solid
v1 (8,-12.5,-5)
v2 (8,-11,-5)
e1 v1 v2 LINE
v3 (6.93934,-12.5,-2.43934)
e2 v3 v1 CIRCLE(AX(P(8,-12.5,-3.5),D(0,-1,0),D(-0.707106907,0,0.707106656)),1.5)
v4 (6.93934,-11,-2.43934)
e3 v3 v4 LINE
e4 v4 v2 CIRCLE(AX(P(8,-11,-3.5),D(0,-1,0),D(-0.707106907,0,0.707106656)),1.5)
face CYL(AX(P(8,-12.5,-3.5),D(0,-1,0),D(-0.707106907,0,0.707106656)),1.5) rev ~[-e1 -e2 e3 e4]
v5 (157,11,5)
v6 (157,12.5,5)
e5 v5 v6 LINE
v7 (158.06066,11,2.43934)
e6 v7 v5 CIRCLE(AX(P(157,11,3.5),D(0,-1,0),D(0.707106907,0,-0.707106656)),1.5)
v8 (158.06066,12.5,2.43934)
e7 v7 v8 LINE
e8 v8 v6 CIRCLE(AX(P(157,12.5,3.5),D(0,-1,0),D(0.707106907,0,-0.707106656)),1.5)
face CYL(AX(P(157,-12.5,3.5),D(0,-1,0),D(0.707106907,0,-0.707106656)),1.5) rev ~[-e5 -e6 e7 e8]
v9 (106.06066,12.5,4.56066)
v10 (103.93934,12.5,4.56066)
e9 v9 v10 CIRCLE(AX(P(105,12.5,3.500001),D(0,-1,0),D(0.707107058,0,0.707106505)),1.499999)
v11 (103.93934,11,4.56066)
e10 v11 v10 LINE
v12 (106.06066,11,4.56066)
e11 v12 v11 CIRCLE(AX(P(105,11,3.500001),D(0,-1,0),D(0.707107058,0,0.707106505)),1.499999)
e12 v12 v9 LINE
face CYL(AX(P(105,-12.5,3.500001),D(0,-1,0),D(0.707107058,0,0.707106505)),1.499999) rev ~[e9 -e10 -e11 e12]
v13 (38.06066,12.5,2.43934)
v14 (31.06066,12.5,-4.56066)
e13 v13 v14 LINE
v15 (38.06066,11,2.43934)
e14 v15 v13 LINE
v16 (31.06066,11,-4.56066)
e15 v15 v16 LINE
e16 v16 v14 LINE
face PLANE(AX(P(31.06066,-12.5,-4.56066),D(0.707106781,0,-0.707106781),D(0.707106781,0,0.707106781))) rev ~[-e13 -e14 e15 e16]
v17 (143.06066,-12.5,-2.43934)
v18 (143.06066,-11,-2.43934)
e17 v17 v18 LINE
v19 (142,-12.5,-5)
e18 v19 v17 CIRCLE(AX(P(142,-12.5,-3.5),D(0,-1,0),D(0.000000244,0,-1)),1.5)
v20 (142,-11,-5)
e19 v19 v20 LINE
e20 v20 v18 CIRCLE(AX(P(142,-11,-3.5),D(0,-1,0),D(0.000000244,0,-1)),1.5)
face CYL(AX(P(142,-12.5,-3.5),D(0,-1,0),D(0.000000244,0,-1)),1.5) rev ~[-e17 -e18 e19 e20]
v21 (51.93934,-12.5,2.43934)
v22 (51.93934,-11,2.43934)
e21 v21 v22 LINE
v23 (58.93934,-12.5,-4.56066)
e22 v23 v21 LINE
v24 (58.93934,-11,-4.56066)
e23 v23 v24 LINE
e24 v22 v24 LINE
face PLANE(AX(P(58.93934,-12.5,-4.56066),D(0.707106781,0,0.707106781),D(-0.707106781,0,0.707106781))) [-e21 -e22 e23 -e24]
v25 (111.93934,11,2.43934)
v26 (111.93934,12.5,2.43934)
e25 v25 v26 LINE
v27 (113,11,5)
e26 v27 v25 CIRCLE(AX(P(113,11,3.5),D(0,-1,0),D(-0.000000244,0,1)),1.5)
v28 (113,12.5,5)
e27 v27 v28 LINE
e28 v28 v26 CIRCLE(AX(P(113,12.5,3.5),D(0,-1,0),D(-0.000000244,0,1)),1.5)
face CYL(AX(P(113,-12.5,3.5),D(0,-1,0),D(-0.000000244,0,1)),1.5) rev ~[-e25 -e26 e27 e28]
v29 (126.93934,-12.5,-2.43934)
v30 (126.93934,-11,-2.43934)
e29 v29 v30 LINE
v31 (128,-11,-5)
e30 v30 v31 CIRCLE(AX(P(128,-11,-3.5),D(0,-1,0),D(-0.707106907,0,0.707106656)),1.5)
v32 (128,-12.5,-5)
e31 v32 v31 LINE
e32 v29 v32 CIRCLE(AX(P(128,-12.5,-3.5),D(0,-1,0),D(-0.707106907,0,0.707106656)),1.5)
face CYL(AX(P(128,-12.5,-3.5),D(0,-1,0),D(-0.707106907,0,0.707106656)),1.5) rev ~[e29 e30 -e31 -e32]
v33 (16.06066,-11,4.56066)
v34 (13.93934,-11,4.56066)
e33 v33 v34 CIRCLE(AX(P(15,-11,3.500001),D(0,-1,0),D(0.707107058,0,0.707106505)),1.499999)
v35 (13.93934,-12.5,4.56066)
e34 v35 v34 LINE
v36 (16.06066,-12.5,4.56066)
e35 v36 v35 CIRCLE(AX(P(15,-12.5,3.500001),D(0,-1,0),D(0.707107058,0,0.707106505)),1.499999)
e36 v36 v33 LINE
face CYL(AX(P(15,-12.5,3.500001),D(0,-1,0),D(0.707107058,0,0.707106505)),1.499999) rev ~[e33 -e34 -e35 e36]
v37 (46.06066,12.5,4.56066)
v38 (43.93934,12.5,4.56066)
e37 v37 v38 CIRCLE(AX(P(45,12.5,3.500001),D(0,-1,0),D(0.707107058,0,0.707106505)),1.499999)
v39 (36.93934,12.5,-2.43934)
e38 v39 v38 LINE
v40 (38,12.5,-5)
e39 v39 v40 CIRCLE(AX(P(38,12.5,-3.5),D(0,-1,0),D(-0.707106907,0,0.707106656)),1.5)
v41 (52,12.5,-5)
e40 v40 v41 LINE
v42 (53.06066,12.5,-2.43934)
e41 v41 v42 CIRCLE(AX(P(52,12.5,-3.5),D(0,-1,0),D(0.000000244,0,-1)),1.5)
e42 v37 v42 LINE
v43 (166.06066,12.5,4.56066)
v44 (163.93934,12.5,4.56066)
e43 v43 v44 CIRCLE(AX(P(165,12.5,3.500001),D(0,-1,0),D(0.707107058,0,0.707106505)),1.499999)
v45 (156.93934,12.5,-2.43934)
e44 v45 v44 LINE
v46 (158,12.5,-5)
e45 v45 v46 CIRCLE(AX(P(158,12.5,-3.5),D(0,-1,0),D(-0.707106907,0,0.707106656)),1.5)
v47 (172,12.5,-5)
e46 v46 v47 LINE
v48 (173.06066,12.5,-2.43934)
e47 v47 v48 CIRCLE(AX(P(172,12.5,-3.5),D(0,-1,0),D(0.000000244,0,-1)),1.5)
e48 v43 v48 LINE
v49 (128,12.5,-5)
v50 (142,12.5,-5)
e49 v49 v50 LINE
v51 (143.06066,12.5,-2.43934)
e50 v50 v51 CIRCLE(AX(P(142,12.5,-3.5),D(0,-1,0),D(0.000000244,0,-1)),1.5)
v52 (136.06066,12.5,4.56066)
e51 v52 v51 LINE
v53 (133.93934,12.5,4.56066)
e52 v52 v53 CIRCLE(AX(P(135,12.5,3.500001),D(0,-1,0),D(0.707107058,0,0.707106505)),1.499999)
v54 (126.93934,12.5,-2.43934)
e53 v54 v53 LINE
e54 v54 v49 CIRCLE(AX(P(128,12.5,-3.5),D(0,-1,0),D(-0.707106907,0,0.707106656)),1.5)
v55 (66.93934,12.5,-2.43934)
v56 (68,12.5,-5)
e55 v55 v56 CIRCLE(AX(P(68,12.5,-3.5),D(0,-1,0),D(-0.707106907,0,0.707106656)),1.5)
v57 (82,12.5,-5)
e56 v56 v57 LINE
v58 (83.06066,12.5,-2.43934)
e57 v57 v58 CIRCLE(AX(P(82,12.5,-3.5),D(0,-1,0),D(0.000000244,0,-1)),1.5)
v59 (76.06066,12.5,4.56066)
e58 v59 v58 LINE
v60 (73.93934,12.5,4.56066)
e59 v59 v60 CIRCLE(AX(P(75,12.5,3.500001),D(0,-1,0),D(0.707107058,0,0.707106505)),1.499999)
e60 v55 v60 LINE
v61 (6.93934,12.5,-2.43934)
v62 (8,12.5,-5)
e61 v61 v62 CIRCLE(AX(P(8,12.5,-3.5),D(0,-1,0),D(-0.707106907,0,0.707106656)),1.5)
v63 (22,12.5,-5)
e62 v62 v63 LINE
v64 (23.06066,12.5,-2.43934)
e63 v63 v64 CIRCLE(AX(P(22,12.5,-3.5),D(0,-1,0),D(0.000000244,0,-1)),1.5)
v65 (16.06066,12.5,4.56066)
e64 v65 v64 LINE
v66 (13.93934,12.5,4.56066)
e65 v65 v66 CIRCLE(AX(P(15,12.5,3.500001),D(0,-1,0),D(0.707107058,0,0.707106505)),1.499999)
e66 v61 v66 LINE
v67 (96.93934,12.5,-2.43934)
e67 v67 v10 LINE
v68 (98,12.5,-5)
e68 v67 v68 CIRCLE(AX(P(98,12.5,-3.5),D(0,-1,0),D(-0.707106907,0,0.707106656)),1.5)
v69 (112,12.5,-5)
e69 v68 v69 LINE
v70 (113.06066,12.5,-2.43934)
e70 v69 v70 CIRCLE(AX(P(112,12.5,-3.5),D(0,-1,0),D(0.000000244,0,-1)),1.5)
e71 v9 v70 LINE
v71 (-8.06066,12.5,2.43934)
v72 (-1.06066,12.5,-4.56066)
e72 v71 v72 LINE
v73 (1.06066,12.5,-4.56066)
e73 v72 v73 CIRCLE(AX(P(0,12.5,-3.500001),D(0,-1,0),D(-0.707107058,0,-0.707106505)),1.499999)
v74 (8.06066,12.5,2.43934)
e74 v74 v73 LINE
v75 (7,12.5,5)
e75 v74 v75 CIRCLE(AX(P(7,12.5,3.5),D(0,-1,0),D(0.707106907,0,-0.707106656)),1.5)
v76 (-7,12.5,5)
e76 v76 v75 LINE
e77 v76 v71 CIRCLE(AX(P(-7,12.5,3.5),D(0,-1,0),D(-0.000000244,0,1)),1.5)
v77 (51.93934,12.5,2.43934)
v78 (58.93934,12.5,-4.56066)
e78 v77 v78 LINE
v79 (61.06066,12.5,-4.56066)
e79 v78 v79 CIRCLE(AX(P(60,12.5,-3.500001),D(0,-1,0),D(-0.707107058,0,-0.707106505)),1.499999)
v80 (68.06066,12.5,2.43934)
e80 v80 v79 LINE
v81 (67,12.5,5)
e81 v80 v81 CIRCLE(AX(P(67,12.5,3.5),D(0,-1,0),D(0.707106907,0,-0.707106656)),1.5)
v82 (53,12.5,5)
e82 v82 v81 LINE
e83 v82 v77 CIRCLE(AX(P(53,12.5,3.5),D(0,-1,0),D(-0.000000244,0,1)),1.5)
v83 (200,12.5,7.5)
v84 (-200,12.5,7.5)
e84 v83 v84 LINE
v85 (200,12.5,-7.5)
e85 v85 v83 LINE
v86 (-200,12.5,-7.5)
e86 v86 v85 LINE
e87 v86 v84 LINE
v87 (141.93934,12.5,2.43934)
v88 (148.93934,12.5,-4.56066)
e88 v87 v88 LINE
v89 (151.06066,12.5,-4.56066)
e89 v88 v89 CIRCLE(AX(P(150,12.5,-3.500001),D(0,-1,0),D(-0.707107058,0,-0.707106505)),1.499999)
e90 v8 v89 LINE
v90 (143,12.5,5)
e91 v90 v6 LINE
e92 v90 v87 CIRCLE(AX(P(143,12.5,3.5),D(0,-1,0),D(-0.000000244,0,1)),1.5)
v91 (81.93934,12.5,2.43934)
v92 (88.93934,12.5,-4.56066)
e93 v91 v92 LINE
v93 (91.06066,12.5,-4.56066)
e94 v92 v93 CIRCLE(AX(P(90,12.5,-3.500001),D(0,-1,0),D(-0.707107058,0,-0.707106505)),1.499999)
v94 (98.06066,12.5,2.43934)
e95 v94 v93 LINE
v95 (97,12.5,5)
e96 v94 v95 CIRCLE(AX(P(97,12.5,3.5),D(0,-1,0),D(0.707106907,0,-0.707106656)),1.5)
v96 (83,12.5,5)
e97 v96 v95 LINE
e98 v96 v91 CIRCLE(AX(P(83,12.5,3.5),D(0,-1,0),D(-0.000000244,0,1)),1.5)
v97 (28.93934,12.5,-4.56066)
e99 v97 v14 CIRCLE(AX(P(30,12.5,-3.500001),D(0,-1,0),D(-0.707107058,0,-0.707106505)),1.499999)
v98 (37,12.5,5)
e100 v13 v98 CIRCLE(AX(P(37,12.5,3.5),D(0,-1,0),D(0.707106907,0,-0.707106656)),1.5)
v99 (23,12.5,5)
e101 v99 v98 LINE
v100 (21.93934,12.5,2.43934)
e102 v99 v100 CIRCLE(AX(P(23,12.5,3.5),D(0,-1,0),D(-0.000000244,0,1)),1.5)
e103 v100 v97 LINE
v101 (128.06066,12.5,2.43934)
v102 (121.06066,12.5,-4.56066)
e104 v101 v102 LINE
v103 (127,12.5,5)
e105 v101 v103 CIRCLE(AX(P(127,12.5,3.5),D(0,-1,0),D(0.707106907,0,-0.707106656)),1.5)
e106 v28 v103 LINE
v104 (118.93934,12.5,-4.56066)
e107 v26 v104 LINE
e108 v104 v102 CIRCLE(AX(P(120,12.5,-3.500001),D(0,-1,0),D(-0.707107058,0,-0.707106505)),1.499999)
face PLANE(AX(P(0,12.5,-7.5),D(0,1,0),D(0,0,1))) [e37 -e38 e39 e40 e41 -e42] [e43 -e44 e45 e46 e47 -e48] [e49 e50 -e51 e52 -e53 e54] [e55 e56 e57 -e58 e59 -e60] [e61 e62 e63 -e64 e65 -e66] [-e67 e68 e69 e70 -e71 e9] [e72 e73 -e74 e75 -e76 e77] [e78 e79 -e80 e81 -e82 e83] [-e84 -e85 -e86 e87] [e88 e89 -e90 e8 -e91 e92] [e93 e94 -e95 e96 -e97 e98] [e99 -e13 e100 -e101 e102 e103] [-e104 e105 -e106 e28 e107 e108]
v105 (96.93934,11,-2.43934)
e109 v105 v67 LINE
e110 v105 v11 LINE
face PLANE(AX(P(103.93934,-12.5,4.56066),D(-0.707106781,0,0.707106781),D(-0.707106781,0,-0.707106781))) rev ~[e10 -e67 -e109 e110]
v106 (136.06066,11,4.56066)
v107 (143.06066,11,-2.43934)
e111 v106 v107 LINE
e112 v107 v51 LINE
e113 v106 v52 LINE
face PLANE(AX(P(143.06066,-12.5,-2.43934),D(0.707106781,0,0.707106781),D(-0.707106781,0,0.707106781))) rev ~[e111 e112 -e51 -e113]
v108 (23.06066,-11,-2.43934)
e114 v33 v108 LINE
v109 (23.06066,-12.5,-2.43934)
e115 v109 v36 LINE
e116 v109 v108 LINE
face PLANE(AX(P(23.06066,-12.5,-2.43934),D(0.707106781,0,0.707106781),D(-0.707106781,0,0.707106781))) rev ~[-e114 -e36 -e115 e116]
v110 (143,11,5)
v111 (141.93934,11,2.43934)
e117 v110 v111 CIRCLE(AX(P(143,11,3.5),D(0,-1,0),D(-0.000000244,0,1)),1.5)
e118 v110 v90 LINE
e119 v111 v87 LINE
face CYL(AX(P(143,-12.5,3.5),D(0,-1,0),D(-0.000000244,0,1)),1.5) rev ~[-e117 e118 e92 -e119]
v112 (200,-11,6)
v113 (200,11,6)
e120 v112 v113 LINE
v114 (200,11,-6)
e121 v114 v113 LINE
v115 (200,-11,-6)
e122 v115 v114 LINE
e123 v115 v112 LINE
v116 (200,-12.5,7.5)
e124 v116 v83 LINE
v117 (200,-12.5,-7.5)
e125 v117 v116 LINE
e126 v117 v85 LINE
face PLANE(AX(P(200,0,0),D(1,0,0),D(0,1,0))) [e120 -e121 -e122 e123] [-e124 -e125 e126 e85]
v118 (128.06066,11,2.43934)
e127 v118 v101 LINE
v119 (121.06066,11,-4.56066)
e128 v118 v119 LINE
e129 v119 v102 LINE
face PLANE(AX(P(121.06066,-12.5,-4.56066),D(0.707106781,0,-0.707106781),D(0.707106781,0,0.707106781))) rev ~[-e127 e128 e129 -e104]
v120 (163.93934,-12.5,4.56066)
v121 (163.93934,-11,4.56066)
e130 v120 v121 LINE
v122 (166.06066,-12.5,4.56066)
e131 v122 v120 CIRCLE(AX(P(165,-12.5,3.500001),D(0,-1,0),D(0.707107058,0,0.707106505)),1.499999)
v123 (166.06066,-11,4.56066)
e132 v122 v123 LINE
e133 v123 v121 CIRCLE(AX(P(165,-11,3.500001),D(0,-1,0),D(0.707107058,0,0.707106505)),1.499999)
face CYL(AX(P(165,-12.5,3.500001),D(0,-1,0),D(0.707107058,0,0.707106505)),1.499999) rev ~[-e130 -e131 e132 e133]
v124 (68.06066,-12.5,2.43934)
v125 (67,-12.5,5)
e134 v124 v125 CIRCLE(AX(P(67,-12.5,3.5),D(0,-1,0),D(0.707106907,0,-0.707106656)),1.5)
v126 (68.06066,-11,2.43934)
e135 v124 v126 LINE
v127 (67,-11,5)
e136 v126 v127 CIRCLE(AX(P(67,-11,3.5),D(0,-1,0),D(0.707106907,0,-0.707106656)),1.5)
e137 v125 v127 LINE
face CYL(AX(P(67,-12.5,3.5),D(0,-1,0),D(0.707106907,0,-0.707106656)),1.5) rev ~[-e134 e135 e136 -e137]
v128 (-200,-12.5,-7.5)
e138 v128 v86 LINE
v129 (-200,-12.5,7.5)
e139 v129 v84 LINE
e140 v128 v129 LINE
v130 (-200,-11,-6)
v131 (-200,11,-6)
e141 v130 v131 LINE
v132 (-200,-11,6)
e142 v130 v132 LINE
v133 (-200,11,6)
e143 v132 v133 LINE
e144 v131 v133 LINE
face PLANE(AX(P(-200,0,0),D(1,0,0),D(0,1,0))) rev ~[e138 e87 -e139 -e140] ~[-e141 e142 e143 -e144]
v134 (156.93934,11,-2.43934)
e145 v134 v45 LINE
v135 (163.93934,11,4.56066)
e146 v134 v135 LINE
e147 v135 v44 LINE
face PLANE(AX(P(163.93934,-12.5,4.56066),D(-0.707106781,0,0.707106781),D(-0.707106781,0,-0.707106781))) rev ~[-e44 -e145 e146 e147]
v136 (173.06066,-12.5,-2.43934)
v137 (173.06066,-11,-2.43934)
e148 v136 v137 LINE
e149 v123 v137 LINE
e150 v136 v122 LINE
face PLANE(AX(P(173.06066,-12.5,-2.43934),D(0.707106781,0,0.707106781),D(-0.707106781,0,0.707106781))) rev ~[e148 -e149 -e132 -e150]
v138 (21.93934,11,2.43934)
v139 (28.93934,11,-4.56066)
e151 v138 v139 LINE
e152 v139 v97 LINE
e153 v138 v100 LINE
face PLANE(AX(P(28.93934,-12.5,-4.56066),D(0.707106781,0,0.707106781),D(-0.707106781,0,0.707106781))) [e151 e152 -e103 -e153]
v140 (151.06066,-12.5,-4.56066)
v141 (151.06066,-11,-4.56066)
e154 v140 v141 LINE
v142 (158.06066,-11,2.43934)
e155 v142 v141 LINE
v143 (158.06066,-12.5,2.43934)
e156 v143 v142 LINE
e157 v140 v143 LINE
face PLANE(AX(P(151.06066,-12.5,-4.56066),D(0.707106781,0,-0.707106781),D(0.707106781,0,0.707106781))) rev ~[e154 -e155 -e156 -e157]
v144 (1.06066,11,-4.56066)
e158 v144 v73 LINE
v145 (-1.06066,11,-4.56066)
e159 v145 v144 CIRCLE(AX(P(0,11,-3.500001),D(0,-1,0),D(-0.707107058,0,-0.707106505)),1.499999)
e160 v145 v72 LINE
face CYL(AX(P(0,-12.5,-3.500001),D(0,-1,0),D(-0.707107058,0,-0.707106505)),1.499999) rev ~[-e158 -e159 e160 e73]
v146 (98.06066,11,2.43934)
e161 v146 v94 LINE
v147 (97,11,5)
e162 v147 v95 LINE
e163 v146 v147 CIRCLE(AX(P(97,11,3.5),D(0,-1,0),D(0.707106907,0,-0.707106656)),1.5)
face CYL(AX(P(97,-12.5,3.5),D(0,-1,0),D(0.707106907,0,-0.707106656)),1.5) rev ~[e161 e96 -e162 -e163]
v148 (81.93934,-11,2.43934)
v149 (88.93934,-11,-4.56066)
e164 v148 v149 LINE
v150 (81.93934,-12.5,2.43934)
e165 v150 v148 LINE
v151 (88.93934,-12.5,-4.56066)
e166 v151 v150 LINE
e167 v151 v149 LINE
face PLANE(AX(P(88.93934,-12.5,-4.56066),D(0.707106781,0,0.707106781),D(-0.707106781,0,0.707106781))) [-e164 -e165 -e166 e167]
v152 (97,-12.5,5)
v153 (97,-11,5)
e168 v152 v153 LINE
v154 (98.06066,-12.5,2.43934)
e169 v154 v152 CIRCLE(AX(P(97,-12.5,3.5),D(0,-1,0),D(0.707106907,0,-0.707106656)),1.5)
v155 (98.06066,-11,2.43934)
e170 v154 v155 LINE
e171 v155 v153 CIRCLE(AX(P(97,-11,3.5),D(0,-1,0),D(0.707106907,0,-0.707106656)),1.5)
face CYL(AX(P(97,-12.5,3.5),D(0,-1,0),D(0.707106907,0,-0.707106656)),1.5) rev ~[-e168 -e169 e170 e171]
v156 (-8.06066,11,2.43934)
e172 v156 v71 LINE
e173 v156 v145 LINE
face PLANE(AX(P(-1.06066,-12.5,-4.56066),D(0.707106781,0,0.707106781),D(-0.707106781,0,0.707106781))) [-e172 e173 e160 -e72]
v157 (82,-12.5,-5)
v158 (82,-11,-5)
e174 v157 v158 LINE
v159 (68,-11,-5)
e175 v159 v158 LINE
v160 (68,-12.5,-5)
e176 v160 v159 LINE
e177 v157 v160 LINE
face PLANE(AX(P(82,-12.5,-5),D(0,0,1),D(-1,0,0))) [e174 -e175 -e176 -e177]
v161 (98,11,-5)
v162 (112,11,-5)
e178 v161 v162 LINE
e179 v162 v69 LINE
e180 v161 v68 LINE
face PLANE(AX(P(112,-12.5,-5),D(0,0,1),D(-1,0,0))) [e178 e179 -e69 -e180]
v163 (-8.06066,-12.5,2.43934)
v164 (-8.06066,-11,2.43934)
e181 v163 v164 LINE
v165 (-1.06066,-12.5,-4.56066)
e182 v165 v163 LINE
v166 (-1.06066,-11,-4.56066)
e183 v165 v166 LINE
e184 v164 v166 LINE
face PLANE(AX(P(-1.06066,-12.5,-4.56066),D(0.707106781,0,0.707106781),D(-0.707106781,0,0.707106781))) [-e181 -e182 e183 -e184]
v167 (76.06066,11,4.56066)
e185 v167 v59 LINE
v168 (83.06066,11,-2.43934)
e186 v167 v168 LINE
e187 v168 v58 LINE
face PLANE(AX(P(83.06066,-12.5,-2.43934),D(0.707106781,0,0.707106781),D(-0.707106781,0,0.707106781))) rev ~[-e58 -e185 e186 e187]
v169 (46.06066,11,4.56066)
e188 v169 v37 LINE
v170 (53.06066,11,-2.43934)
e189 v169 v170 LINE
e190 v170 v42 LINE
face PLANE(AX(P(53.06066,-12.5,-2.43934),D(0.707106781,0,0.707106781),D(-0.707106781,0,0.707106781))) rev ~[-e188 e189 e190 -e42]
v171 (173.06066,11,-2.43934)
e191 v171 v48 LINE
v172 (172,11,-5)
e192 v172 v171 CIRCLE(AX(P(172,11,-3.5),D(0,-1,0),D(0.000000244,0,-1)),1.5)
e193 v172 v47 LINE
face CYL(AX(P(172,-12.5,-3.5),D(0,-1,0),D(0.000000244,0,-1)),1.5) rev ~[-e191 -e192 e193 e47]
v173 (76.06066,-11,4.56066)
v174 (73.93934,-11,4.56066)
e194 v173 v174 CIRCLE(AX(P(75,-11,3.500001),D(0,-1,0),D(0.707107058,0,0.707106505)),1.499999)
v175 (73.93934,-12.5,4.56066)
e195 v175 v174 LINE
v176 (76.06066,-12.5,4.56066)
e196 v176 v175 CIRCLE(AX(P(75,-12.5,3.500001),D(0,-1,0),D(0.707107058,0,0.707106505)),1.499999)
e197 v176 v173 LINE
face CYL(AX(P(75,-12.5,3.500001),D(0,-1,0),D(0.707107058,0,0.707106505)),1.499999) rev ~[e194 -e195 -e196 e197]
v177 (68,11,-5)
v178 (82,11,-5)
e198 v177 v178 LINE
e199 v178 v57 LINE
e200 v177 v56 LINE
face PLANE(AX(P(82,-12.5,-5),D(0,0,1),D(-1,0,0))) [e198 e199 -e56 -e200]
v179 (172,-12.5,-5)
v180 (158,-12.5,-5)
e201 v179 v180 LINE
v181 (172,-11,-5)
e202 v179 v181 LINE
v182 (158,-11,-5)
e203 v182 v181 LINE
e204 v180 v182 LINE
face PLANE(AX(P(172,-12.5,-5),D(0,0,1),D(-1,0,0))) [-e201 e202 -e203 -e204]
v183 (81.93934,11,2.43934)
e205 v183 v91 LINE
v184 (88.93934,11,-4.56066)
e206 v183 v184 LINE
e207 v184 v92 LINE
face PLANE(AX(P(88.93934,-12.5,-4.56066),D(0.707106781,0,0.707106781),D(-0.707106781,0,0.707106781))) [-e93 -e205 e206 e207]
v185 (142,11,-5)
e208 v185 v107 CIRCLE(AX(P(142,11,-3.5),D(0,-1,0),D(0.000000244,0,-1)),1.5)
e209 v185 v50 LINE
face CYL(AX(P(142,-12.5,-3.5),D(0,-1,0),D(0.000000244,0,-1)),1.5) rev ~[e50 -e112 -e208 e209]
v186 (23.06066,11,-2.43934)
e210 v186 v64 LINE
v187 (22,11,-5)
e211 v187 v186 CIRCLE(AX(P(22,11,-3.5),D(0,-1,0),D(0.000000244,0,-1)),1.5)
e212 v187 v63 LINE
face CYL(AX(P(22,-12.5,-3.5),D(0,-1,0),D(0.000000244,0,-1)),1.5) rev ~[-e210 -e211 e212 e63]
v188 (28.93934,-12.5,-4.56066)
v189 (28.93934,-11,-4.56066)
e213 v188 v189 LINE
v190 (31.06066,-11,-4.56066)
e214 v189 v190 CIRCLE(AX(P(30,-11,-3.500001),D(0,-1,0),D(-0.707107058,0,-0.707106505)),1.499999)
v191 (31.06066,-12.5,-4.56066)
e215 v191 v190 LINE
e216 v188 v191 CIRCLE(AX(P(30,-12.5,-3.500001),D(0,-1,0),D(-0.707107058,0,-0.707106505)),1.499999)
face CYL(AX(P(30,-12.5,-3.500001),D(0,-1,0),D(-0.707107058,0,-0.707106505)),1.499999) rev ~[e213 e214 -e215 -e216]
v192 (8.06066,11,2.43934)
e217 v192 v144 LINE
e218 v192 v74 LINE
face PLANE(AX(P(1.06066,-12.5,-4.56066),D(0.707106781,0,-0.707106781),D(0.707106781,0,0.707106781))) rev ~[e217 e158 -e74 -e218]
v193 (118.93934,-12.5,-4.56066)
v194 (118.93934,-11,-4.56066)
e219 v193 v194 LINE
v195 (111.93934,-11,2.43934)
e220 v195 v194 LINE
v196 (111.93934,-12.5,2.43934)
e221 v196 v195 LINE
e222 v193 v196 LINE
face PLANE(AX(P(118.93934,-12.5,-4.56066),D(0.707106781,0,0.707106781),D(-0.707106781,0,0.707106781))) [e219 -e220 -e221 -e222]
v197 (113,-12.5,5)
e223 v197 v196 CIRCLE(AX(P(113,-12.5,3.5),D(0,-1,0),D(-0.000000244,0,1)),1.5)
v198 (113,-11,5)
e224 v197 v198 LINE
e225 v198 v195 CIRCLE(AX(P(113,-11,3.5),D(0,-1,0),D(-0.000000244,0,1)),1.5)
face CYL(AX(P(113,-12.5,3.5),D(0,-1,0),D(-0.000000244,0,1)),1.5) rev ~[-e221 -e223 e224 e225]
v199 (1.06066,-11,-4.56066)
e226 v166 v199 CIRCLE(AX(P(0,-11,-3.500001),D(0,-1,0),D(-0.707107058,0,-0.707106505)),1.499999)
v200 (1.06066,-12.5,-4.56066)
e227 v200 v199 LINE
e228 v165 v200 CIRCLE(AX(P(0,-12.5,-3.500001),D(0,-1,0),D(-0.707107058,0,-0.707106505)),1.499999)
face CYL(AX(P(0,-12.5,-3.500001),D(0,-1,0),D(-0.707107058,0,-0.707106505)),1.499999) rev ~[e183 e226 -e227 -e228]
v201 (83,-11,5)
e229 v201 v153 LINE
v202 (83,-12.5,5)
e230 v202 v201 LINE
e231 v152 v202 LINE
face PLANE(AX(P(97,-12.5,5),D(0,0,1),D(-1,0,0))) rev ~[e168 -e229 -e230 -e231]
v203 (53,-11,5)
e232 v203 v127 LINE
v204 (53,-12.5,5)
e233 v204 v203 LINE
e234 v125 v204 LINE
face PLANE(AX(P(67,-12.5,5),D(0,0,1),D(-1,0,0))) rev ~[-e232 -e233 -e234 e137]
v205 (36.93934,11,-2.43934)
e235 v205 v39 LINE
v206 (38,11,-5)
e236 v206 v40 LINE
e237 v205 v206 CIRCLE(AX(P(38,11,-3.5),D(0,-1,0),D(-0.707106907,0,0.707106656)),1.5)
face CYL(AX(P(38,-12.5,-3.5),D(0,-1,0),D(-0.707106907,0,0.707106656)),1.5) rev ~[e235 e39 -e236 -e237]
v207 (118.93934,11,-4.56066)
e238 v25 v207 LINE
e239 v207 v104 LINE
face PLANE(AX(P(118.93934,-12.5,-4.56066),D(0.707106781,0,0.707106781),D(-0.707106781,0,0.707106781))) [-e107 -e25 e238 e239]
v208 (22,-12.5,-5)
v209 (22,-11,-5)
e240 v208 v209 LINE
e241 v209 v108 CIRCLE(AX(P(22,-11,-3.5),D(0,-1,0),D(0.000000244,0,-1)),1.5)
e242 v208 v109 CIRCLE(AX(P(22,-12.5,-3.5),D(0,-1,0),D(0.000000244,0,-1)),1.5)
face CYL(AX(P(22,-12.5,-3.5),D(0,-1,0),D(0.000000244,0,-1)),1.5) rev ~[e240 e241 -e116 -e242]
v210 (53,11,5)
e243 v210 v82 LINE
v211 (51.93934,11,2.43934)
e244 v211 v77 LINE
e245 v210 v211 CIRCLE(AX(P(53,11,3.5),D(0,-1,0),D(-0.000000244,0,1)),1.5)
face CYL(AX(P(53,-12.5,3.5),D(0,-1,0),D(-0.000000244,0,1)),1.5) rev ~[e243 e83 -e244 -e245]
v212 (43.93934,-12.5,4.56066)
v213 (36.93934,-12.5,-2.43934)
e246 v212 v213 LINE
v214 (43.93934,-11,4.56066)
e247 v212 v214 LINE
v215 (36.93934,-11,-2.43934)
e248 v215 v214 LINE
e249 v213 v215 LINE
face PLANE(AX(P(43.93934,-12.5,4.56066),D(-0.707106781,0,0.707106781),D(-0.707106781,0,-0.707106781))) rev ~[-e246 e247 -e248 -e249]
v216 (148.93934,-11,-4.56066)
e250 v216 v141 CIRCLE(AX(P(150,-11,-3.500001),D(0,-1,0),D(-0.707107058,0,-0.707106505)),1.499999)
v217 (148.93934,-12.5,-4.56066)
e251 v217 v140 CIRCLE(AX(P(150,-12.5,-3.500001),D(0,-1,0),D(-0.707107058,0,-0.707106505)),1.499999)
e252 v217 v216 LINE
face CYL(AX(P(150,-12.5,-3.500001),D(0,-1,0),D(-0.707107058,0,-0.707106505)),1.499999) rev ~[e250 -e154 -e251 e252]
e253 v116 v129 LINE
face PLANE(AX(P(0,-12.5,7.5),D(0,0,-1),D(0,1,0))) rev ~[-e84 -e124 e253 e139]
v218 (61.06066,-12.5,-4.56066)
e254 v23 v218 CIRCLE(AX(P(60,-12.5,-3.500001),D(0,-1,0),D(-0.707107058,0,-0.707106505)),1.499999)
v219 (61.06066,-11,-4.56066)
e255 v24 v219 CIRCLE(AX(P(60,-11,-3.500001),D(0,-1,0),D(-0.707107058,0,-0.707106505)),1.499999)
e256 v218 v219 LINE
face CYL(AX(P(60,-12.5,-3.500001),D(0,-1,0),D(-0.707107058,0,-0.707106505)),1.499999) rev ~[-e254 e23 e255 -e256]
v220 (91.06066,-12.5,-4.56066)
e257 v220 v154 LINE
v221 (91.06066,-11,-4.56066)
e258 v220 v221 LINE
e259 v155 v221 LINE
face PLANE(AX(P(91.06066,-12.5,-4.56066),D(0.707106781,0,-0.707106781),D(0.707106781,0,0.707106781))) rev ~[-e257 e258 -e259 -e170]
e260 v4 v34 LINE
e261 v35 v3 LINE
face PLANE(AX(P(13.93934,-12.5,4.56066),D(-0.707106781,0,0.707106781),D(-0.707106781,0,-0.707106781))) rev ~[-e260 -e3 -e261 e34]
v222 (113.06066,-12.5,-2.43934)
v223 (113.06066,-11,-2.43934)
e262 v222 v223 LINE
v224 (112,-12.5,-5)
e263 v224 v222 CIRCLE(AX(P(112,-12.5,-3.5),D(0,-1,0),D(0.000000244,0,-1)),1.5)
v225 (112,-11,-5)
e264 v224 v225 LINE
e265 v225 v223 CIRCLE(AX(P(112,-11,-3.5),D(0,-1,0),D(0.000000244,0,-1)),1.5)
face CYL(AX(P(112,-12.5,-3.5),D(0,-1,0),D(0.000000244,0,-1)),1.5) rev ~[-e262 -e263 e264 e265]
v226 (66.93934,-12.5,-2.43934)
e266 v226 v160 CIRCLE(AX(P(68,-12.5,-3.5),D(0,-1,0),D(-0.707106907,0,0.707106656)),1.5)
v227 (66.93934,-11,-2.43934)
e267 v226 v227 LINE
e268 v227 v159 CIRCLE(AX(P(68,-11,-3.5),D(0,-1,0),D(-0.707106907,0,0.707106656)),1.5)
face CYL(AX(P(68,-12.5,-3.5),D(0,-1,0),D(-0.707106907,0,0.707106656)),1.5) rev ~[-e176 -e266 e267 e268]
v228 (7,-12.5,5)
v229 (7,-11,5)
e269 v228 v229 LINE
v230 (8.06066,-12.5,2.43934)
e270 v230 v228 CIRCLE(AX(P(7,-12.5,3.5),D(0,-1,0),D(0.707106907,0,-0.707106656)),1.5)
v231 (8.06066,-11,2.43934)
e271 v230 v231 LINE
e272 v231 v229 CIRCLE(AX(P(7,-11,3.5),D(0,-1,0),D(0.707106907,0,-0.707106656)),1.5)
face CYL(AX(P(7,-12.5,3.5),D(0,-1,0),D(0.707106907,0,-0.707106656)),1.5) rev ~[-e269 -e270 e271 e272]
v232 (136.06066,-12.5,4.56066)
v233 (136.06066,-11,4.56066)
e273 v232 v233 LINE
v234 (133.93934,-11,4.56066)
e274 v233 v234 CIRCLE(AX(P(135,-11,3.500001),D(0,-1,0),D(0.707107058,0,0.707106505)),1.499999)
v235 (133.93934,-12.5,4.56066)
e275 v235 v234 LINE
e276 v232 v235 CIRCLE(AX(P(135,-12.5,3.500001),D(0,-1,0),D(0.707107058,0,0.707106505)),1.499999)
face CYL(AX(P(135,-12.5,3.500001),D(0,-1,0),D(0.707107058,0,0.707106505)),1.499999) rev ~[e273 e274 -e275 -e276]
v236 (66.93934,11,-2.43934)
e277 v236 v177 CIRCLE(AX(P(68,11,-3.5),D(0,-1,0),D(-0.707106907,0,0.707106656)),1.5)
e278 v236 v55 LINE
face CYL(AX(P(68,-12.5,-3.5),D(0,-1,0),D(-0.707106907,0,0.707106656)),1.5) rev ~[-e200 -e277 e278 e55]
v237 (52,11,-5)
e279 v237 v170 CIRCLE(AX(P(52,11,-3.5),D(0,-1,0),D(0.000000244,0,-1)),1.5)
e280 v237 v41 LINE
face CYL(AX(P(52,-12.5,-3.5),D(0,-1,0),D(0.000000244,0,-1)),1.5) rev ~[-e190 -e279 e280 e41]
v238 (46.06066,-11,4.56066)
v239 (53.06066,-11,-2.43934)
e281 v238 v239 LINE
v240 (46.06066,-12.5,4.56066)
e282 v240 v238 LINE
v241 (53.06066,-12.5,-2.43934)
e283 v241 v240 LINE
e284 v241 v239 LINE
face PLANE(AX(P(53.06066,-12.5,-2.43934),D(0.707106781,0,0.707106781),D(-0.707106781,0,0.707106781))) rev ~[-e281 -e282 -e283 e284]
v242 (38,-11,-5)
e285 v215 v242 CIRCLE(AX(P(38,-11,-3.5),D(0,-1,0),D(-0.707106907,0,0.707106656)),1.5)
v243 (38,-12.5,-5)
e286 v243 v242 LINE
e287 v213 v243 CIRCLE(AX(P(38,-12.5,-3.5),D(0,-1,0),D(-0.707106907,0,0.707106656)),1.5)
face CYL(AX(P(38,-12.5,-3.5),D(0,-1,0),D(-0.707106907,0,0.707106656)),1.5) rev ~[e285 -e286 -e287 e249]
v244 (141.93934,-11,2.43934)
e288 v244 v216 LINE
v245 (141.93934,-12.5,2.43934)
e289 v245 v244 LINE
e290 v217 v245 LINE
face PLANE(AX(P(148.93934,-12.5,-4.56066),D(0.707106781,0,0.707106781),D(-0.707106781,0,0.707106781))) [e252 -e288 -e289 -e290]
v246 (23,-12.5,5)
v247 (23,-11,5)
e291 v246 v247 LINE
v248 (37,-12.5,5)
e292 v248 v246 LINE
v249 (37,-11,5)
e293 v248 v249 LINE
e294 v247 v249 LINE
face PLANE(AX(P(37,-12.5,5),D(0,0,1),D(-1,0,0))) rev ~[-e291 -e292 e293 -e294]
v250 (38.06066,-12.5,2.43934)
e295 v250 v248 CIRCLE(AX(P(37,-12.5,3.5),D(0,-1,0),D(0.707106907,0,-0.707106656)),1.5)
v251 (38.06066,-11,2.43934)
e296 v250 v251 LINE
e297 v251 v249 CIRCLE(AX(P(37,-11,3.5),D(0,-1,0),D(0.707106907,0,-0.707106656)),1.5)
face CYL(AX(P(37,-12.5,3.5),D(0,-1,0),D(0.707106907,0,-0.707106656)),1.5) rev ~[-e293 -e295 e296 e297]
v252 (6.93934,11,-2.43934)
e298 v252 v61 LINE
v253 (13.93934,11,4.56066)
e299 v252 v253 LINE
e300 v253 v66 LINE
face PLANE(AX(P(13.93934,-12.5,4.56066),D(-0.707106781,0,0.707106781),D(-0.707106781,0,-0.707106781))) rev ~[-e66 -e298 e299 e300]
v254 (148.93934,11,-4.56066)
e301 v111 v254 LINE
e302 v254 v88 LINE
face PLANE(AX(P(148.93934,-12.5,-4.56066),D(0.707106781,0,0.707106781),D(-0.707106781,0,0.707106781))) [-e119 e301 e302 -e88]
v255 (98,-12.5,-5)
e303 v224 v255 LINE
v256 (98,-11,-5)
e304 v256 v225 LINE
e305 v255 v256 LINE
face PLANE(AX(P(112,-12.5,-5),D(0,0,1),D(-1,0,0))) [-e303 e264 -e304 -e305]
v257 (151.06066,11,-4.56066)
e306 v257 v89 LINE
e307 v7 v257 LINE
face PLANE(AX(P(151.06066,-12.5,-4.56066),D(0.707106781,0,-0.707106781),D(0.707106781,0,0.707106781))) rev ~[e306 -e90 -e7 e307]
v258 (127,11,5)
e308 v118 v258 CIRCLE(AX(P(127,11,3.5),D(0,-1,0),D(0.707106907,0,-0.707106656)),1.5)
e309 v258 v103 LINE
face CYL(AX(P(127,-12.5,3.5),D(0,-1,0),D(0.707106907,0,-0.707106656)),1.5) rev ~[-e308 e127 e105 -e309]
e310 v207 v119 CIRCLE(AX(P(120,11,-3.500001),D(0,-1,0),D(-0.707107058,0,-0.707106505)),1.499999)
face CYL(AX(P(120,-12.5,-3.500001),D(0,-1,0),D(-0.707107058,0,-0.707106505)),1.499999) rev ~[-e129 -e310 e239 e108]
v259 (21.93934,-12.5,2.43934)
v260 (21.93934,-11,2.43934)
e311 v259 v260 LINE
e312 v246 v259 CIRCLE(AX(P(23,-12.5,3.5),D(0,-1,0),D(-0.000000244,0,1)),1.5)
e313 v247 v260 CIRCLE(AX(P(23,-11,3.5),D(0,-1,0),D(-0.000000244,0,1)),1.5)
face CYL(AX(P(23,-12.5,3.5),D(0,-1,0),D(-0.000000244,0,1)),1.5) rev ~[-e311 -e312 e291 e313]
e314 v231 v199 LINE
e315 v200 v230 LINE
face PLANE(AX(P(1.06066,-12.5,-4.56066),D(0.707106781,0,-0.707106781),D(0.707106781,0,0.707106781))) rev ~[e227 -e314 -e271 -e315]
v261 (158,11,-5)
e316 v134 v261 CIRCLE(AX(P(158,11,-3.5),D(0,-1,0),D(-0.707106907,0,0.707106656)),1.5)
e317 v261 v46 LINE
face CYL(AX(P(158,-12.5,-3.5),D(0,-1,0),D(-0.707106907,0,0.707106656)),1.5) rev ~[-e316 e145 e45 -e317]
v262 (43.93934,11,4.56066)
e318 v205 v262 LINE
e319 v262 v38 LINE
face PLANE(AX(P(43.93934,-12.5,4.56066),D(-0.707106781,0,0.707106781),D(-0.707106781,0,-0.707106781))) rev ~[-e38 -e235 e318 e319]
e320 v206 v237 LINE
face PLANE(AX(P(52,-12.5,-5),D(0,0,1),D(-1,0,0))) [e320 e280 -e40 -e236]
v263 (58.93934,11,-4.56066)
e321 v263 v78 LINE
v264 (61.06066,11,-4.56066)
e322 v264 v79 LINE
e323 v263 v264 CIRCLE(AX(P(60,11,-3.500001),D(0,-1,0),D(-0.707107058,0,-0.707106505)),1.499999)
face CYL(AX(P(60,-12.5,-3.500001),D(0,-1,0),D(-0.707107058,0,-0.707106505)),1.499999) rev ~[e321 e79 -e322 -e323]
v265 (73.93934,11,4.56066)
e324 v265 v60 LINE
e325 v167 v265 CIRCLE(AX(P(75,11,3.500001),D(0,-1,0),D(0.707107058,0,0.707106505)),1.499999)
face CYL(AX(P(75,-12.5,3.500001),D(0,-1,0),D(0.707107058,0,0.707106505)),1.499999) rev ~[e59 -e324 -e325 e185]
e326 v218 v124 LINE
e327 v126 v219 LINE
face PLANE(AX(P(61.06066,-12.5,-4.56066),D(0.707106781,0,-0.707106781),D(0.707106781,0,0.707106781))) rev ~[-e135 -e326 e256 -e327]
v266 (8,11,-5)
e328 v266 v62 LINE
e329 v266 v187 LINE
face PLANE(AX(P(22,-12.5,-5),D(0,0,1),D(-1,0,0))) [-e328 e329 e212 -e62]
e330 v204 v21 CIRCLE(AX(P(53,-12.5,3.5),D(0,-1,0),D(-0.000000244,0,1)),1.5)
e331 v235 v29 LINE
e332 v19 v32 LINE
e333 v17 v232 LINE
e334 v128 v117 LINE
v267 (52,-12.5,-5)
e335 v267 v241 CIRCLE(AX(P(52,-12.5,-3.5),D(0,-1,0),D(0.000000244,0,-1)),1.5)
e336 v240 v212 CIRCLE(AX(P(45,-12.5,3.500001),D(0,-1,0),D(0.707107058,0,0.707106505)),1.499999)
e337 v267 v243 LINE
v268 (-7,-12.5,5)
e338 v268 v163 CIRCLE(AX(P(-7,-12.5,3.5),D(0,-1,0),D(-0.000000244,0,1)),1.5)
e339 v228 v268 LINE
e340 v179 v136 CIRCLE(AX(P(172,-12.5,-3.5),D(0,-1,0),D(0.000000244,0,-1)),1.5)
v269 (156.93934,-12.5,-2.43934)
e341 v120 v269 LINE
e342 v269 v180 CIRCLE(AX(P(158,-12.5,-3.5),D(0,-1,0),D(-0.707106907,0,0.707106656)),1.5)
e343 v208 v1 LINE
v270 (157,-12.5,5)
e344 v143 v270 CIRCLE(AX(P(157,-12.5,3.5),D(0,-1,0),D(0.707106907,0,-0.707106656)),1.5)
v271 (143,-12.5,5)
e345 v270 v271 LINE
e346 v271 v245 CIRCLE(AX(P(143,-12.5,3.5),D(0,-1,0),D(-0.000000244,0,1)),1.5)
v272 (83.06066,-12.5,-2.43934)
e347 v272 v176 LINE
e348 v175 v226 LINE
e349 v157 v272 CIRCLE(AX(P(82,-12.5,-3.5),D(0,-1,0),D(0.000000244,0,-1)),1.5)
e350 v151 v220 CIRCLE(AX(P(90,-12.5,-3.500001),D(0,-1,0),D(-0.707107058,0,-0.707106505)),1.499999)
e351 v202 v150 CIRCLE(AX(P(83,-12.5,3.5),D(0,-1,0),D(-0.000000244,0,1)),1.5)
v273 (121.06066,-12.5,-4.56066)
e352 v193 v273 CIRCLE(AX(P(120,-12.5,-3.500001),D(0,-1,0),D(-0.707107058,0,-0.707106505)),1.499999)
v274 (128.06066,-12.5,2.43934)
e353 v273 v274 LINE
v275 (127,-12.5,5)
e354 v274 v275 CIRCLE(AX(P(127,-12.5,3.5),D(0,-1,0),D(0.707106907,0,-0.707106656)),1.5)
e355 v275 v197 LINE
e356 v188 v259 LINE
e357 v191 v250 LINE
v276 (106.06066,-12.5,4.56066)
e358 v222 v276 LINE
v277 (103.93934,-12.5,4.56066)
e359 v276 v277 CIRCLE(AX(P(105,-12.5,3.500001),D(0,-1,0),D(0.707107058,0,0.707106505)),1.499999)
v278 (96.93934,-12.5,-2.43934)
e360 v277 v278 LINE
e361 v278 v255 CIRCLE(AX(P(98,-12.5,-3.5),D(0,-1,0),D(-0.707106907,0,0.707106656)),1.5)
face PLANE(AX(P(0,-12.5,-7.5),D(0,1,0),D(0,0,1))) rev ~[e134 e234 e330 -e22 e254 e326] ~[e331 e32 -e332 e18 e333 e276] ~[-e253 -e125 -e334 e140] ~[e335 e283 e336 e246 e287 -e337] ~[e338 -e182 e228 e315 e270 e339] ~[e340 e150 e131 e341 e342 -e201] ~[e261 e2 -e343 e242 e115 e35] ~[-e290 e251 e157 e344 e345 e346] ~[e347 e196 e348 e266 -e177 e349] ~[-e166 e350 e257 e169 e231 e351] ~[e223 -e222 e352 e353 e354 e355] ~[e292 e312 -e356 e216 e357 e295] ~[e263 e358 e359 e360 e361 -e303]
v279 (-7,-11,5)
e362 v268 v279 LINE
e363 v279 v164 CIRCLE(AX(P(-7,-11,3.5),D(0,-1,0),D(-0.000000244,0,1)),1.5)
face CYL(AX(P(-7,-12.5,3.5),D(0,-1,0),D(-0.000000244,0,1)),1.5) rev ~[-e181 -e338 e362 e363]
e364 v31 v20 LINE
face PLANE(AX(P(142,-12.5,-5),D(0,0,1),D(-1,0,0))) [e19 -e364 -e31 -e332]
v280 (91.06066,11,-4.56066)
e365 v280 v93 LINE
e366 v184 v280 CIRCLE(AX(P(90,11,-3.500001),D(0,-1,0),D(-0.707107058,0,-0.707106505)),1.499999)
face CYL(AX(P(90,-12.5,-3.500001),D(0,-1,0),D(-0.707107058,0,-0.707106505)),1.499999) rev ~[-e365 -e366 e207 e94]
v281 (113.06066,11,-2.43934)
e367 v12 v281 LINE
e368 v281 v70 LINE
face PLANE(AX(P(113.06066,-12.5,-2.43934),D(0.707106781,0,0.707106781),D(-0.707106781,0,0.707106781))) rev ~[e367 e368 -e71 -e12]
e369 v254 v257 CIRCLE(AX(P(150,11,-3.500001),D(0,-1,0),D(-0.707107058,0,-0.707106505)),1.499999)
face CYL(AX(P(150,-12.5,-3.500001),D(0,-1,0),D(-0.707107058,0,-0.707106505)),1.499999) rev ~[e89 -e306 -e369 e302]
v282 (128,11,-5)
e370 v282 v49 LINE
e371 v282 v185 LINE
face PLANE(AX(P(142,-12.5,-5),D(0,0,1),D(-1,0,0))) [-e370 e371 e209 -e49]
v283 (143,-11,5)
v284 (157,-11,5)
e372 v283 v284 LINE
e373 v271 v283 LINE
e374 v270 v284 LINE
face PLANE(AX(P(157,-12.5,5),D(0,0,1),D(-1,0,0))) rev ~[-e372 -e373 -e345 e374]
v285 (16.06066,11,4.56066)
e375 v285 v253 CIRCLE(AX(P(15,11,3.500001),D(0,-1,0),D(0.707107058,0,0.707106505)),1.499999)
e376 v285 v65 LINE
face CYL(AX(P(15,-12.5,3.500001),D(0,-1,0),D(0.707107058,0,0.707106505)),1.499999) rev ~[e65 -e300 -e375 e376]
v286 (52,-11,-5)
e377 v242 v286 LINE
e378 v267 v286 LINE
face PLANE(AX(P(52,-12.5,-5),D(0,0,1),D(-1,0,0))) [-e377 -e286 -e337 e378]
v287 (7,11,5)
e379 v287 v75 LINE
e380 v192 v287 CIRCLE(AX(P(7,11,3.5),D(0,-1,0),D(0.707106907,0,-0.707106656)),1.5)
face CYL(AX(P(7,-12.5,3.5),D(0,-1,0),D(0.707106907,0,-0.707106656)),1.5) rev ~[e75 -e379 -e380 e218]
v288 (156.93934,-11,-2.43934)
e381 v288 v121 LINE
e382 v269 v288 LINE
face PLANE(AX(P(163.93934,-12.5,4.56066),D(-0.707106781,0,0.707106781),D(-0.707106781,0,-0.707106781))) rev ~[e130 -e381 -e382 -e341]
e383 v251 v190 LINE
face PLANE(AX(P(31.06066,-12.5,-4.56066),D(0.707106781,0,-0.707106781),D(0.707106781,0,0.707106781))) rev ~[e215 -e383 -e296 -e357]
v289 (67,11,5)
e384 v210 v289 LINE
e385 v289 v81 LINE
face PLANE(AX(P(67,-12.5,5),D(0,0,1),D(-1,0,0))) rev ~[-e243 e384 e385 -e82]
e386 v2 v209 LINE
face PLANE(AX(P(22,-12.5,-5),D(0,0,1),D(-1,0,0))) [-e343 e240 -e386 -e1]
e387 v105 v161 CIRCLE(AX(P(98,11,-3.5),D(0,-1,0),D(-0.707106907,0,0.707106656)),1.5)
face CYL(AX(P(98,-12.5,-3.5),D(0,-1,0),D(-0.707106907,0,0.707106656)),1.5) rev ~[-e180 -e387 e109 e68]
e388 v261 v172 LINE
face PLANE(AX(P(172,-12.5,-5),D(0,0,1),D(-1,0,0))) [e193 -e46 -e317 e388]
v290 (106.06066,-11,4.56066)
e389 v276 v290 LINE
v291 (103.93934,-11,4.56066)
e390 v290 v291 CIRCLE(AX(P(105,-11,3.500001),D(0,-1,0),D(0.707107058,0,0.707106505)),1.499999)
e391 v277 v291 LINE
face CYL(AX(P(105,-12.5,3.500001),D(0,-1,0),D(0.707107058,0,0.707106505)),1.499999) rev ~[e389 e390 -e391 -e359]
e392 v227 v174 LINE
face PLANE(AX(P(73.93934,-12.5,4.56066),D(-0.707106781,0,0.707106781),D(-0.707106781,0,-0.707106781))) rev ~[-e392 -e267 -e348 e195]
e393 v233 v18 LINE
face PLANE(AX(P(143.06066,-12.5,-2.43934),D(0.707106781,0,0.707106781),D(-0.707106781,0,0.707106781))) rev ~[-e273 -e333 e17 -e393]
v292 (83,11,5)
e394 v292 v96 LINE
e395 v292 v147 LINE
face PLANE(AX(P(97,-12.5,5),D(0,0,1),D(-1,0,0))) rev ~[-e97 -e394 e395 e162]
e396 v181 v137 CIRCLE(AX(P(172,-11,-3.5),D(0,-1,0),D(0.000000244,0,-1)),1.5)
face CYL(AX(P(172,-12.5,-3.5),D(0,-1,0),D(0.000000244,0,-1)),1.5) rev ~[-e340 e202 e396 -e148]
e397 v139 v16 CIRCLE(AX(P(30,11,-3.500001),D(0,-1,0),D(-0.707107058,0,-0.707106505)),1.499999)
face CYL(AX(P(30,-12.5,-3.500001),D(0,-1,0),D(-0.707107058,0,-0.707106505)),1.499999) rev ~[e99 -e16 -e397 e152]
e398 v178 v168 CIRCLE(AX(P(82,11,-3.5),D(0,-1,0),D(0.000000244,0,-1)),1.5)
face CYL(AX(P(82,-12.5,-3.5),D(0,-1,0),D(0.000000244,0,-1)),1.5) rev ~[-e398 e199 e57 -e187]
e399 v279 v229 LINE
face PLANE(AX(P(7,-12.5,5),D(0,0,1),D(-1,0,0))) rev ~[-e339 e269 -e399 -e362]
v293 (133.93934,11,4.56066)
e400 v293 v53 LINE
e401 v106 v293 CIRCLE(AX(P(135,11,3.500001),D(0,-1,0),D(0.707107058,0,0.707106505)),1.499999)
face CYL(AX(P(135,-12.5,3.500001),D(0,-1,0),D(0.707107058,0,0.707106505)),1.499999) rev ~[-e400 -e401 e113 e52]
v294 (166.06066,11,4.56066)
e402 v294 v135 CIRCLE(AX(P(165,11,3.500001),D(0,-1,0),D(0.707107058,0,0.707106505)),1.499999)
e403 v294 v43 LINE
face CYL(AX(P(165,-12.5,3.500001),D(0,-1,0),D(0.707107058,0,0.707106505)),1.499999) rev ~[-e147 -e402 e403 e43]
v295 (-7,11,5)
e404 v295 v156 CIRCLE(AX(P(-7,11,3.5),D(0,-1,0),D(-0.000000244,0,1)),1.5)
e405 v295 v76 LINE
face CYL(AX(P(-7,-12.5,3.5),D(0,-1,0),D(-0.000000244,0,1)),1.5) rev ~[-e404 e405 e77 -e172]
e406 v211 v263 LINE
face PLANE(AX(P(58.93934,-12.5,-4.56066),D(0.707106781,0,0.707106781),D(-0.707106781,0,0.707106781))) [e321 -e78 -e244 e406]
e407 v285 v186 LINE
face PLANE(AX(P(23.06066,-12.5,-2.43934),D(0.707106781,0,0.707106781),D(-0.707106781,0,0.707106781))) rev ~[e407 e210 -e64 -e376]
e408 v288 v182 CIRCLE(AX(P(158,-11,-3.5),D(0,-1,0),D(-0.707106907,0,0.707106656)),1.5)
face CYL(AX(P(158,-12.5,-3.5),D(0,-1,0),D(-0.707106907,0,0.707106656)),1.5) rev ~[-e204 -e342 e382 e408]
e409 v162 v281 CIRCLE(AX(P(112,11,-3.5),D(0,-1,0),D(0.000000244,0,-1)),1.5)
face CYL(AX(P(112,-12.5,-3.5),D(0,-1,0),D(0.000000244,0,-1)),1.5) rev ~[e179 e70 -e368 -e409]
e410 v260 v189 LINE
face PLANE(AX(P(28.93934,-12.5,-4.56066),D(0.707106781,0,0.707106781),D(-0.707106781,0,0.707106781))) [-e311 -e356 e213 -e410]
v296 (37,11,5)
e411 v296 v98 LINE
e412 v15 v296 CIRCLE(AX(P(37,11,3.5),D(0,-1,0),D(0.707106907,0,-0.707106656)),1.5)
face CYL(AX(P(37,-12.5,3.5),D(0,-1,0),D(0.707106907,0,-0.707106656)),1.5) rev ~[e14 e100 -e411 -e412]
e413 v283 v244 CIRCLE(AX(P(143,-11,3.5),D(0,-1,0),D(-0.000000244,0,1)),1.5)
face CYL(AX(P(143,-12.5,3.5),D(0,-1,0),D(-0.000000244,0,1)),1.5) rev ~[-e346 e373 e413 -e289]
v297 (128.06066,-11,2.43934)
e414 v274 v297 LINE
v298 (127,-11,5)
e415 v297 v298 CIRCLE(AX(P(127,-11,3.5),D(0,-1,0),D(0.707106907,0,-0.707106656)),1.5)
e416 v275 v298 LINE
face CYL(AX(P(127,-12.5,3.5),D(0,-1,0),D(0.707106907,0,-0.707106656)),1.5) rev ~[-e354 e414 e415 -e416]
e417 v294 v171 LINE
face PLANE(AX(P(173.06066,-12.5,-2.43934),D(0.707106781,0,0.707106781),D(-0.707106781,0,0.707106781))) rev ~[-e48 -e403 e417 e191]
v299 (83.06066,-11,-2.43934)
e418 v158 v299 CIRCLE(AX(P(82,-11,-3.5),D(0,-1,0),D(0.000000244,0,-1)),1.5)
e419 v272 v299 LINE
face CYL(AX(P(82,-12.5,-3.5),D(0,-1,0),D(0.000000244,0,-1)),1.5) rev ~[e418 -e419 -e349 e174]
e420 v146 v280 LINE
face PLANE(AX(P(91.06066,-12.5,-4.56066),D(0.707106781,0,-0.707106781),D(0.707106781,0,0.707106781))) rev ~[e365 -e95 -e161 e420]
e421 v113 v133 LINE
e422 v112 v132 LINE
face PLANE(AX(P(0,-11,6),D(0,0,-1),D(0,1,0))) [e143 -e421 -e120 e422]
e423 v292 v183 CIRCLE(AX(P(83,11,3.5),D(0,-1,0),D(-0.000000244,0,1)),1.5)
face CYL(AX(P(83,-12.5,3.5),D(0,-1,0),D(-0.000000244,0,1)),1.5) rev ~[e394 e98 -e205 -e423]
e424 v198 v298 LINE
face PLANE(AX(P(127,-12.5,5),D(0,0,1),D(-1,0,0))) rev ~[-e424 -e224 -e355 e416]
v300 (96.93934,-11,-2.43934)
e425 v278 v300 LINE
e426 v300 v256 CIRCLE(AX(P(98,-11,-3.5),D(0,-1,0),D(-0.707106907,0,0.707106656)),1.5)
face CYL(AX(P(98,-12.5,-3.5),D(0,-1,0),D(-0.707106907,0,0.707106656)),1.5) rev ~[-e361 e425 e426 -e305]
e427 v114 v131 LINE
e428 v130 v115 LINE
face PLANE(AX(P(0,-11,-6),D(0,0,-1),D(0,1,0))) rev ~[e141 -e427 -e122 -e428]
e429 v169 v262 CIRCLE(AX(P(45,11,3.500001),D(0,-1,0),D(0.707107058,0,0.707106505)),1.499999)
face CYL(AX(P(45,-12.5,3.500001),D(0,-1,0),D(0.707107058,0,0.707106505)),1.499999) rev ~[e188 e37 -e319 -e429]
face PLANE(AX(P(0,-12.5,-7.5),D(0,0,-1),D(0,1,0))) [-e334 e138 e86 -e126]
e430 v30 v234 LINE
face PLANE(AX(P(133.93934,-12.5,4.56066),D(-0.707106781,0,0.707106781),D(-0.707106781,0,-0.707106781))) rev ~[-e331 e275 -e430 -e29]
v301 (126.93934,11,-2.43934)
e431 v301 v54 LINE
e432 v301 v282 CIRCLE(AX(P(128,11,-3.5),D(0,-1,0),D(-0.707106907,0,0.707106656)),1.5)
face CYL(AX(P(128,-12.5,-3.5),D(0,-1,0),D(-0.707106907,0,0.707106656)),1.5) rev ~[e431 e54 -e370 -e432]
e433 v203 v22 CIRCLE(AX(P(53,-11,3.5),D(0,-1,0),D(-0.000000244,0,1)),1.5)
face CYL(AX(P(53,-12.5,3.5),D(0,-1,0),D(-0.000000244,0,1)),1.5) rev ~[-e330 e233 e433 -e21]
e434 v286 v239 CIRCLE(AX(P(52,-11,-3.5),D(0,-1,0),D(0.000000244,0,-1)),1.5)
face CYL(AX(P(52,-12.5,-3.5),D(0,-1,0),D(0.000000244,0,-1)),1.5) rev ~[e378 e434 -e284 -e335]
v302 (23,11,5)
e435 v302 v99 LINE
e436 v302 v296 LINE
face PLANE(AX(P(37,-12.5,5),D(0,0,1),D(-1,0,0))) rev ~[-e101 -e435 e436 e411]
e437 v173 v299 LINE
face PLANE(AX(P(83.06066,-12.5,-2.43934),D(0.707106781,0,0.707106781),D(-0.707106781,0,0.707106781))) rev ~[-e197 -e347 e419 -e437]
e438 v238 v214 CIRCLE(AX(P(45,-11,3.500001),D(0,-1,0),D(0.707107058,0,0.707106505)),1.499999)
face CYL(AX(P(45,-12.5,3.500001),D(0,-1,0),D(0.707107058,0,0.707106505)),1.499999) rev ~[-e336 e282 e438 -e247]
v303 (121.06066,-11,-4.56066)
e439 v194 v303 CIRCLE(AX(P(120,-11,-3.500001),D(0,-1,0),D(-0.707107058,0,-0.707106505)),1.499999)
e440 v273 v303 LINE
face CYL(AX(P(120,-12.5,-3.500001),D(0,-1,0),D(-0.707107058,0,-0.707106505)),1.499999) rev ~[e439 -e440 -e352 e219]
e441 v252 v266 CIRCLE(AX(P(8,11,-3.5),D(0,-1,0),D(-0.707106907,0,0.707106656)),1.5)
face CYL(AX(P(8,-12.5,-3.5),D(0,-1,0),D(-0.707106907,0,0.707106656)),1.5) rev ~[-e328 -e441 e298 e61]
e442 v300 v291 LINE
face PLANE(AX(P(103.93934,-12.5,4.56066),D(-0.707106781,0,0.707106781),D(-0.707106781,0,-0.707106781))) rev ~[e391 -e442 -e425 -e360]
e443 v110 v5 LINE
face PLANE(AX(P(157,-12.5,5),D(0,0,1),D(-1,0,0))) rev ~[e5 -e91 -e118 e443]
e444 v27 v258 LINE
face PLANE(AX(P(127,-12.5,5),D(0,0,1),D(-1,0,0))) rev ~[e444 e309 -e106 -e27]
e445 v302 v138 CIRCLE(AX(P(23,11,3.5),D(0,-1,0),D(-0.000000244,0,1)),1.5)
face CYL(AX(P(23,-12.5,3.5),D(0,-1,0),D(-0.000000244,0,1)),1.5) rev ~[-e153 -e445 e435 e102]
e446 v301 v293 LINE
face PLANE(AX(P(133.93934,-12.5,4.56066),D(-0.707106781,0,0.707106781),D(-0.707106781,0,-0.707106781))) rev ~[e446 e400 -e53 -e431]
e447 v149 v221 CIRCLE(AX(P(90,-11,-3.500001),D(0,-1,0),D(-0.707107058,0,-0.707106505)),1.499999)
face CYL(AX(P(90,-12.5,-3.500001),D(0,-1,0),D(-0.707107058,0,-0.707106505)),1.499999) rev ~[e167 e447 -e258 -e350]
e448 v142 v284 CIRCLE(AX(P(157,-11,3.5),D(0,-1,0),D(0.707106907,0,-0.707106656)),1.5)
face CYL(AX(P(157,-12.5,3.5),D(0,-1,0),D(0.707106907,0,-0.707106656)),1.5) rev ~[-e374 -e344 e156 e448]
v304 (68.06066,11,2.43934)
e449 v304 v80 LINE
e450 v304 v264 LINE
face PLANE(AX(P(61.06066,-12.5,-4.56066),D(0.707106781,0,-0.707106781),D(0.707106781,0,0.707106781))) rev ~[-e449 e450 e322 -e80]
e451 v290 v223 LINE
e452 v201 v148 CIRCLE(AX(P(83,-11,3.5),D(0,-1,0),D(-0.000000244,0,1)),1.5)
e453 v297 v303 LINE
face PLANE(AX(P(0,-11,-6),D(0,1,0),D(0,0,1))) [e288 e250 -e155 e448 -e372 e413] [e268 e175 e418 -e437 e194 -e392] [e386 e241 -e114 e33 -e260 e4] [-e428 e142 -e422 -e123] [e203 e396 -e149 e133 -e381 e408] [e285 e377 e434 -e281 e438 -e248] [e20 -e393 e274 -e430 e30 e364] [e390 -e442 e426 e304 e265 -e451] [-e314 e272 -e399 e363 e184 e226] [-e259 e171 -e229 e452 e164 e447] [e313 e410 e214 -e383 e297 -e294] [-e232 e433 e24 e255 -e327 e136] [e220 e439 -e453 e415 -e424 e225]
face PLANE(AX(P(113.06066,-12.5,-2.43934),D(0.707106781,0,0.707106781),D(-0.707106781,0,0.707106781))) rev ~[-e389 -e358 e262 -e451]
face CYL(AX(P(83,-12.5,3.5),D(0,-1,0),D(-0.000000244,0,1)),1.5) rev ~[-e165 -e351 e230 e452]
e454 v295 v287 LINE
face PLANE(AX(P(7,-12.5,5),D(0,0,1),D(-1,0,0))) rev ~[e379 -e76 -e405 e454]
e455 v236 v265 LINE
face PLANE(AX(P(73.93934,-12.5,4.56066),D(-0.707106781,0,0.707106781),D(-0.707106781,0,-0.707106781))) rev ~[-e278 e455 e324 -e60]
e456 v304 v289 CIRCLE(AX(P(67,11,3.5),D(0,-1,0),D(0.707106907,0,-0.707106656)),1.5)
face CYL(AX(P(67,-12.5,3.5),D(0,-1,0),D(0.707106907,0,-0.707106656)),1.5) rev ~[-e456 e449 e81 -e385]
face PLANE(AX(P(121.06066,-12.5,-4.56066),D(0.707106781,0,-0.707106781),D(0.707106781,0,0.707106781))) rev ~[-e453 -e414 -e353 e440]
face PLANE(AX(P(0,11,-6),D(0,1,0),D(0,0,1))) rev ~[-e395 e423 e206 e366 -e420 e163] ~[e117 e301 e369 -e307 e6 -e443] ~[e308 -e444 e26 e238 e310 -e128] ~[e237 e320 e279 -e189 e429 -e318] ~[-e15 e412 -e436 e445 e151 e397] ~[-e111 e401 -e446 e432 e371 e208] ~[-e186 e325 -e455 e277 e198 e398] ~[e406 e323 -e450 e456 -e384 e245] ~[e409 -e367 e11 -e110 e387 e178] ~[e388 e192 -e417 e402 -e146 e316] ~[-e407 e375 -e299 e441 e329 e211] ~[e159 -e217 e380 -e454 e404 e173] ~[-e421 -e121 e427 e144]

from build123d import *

# Parameters (mm, degrees)
SKETCH_W            = 25
SKETCH_H            = 15
SKETCH_W_2          = 22
SKETCH_H_2          = 12
PAD_DEPTH           = 200
POCKET_DEPTH        = 25.001
LINEARPATTERN_COUNT = 6
LINEARPATTERN_PITCH = 30


with BuildPart() as part:
    # Sketch → Pad (new body, symmetric)
    with BuildSketch(Plane.YZ):
        Rectangle(SKETCH_W, SKETCH_H)
        Rectangle(SKETCH_W_2, SKETCH_H_2, mode=Mode.SUBTRACT)
    extrude(amount=PAD_DEPTH, both=True)

    # Sketch001 (on Face4 of Pad) → Pocket (cut, through all)
    with BuildSketch(Plane(origin=(0, -12.5, 0), x_dir=(0, 0, -1), z_dir=(0, -1, 0))):
        with BuildLine():
            Line((-5, 7), (-5, -7))
            ThreePointArc((-5, -7), (-4.074025, -8.385819), (-2.43934, -8.06066))
            Line((4.56066, -1.06066), (-2.43934, -8.06066))
            ThreePointArc((4.56066, -1.06066), (5, 0), (4.56066, 1.06066))
            Line((4.56066, 1.06066), (-2.43934, 8.06066))
            ThreePointArc((-2.43934, 8.06066), (-4.074025, 8.385819), (-5, 7))
        make_face()
        with BuildLine():
            Line((-4.56066, 13.93934), (2.43934, 6.93934))
            ThreePointArc((2.43934, 6.93934), (4.074025, 6.614181), (5, 8))
            Line((5, 22), (5, 8))
            ThreePointArc((5, 22), (4.074025, 23.385819), (2.43934, 23.06066))
            Line((2.43934, 23.06066), (-4.56066, 16.06066))
            ThreePointArc((-4.56066, 16.06066), (-5, 15), (-4.56066, 13.93934))
        make_face()
    pocket = extrude(amount=-POCKET_DEPTH, mode=Mode.SUBTRACT)

    # LinearPattern: Pocket ×6
    with Locations(*[(i * LINEARPATTERN_PITCH, 0, 0) for i in range(1, LINEARPATTERN_COUNT)]):
        add(pocket, mode=Mode.SUBTRACT)


solid = part.part
